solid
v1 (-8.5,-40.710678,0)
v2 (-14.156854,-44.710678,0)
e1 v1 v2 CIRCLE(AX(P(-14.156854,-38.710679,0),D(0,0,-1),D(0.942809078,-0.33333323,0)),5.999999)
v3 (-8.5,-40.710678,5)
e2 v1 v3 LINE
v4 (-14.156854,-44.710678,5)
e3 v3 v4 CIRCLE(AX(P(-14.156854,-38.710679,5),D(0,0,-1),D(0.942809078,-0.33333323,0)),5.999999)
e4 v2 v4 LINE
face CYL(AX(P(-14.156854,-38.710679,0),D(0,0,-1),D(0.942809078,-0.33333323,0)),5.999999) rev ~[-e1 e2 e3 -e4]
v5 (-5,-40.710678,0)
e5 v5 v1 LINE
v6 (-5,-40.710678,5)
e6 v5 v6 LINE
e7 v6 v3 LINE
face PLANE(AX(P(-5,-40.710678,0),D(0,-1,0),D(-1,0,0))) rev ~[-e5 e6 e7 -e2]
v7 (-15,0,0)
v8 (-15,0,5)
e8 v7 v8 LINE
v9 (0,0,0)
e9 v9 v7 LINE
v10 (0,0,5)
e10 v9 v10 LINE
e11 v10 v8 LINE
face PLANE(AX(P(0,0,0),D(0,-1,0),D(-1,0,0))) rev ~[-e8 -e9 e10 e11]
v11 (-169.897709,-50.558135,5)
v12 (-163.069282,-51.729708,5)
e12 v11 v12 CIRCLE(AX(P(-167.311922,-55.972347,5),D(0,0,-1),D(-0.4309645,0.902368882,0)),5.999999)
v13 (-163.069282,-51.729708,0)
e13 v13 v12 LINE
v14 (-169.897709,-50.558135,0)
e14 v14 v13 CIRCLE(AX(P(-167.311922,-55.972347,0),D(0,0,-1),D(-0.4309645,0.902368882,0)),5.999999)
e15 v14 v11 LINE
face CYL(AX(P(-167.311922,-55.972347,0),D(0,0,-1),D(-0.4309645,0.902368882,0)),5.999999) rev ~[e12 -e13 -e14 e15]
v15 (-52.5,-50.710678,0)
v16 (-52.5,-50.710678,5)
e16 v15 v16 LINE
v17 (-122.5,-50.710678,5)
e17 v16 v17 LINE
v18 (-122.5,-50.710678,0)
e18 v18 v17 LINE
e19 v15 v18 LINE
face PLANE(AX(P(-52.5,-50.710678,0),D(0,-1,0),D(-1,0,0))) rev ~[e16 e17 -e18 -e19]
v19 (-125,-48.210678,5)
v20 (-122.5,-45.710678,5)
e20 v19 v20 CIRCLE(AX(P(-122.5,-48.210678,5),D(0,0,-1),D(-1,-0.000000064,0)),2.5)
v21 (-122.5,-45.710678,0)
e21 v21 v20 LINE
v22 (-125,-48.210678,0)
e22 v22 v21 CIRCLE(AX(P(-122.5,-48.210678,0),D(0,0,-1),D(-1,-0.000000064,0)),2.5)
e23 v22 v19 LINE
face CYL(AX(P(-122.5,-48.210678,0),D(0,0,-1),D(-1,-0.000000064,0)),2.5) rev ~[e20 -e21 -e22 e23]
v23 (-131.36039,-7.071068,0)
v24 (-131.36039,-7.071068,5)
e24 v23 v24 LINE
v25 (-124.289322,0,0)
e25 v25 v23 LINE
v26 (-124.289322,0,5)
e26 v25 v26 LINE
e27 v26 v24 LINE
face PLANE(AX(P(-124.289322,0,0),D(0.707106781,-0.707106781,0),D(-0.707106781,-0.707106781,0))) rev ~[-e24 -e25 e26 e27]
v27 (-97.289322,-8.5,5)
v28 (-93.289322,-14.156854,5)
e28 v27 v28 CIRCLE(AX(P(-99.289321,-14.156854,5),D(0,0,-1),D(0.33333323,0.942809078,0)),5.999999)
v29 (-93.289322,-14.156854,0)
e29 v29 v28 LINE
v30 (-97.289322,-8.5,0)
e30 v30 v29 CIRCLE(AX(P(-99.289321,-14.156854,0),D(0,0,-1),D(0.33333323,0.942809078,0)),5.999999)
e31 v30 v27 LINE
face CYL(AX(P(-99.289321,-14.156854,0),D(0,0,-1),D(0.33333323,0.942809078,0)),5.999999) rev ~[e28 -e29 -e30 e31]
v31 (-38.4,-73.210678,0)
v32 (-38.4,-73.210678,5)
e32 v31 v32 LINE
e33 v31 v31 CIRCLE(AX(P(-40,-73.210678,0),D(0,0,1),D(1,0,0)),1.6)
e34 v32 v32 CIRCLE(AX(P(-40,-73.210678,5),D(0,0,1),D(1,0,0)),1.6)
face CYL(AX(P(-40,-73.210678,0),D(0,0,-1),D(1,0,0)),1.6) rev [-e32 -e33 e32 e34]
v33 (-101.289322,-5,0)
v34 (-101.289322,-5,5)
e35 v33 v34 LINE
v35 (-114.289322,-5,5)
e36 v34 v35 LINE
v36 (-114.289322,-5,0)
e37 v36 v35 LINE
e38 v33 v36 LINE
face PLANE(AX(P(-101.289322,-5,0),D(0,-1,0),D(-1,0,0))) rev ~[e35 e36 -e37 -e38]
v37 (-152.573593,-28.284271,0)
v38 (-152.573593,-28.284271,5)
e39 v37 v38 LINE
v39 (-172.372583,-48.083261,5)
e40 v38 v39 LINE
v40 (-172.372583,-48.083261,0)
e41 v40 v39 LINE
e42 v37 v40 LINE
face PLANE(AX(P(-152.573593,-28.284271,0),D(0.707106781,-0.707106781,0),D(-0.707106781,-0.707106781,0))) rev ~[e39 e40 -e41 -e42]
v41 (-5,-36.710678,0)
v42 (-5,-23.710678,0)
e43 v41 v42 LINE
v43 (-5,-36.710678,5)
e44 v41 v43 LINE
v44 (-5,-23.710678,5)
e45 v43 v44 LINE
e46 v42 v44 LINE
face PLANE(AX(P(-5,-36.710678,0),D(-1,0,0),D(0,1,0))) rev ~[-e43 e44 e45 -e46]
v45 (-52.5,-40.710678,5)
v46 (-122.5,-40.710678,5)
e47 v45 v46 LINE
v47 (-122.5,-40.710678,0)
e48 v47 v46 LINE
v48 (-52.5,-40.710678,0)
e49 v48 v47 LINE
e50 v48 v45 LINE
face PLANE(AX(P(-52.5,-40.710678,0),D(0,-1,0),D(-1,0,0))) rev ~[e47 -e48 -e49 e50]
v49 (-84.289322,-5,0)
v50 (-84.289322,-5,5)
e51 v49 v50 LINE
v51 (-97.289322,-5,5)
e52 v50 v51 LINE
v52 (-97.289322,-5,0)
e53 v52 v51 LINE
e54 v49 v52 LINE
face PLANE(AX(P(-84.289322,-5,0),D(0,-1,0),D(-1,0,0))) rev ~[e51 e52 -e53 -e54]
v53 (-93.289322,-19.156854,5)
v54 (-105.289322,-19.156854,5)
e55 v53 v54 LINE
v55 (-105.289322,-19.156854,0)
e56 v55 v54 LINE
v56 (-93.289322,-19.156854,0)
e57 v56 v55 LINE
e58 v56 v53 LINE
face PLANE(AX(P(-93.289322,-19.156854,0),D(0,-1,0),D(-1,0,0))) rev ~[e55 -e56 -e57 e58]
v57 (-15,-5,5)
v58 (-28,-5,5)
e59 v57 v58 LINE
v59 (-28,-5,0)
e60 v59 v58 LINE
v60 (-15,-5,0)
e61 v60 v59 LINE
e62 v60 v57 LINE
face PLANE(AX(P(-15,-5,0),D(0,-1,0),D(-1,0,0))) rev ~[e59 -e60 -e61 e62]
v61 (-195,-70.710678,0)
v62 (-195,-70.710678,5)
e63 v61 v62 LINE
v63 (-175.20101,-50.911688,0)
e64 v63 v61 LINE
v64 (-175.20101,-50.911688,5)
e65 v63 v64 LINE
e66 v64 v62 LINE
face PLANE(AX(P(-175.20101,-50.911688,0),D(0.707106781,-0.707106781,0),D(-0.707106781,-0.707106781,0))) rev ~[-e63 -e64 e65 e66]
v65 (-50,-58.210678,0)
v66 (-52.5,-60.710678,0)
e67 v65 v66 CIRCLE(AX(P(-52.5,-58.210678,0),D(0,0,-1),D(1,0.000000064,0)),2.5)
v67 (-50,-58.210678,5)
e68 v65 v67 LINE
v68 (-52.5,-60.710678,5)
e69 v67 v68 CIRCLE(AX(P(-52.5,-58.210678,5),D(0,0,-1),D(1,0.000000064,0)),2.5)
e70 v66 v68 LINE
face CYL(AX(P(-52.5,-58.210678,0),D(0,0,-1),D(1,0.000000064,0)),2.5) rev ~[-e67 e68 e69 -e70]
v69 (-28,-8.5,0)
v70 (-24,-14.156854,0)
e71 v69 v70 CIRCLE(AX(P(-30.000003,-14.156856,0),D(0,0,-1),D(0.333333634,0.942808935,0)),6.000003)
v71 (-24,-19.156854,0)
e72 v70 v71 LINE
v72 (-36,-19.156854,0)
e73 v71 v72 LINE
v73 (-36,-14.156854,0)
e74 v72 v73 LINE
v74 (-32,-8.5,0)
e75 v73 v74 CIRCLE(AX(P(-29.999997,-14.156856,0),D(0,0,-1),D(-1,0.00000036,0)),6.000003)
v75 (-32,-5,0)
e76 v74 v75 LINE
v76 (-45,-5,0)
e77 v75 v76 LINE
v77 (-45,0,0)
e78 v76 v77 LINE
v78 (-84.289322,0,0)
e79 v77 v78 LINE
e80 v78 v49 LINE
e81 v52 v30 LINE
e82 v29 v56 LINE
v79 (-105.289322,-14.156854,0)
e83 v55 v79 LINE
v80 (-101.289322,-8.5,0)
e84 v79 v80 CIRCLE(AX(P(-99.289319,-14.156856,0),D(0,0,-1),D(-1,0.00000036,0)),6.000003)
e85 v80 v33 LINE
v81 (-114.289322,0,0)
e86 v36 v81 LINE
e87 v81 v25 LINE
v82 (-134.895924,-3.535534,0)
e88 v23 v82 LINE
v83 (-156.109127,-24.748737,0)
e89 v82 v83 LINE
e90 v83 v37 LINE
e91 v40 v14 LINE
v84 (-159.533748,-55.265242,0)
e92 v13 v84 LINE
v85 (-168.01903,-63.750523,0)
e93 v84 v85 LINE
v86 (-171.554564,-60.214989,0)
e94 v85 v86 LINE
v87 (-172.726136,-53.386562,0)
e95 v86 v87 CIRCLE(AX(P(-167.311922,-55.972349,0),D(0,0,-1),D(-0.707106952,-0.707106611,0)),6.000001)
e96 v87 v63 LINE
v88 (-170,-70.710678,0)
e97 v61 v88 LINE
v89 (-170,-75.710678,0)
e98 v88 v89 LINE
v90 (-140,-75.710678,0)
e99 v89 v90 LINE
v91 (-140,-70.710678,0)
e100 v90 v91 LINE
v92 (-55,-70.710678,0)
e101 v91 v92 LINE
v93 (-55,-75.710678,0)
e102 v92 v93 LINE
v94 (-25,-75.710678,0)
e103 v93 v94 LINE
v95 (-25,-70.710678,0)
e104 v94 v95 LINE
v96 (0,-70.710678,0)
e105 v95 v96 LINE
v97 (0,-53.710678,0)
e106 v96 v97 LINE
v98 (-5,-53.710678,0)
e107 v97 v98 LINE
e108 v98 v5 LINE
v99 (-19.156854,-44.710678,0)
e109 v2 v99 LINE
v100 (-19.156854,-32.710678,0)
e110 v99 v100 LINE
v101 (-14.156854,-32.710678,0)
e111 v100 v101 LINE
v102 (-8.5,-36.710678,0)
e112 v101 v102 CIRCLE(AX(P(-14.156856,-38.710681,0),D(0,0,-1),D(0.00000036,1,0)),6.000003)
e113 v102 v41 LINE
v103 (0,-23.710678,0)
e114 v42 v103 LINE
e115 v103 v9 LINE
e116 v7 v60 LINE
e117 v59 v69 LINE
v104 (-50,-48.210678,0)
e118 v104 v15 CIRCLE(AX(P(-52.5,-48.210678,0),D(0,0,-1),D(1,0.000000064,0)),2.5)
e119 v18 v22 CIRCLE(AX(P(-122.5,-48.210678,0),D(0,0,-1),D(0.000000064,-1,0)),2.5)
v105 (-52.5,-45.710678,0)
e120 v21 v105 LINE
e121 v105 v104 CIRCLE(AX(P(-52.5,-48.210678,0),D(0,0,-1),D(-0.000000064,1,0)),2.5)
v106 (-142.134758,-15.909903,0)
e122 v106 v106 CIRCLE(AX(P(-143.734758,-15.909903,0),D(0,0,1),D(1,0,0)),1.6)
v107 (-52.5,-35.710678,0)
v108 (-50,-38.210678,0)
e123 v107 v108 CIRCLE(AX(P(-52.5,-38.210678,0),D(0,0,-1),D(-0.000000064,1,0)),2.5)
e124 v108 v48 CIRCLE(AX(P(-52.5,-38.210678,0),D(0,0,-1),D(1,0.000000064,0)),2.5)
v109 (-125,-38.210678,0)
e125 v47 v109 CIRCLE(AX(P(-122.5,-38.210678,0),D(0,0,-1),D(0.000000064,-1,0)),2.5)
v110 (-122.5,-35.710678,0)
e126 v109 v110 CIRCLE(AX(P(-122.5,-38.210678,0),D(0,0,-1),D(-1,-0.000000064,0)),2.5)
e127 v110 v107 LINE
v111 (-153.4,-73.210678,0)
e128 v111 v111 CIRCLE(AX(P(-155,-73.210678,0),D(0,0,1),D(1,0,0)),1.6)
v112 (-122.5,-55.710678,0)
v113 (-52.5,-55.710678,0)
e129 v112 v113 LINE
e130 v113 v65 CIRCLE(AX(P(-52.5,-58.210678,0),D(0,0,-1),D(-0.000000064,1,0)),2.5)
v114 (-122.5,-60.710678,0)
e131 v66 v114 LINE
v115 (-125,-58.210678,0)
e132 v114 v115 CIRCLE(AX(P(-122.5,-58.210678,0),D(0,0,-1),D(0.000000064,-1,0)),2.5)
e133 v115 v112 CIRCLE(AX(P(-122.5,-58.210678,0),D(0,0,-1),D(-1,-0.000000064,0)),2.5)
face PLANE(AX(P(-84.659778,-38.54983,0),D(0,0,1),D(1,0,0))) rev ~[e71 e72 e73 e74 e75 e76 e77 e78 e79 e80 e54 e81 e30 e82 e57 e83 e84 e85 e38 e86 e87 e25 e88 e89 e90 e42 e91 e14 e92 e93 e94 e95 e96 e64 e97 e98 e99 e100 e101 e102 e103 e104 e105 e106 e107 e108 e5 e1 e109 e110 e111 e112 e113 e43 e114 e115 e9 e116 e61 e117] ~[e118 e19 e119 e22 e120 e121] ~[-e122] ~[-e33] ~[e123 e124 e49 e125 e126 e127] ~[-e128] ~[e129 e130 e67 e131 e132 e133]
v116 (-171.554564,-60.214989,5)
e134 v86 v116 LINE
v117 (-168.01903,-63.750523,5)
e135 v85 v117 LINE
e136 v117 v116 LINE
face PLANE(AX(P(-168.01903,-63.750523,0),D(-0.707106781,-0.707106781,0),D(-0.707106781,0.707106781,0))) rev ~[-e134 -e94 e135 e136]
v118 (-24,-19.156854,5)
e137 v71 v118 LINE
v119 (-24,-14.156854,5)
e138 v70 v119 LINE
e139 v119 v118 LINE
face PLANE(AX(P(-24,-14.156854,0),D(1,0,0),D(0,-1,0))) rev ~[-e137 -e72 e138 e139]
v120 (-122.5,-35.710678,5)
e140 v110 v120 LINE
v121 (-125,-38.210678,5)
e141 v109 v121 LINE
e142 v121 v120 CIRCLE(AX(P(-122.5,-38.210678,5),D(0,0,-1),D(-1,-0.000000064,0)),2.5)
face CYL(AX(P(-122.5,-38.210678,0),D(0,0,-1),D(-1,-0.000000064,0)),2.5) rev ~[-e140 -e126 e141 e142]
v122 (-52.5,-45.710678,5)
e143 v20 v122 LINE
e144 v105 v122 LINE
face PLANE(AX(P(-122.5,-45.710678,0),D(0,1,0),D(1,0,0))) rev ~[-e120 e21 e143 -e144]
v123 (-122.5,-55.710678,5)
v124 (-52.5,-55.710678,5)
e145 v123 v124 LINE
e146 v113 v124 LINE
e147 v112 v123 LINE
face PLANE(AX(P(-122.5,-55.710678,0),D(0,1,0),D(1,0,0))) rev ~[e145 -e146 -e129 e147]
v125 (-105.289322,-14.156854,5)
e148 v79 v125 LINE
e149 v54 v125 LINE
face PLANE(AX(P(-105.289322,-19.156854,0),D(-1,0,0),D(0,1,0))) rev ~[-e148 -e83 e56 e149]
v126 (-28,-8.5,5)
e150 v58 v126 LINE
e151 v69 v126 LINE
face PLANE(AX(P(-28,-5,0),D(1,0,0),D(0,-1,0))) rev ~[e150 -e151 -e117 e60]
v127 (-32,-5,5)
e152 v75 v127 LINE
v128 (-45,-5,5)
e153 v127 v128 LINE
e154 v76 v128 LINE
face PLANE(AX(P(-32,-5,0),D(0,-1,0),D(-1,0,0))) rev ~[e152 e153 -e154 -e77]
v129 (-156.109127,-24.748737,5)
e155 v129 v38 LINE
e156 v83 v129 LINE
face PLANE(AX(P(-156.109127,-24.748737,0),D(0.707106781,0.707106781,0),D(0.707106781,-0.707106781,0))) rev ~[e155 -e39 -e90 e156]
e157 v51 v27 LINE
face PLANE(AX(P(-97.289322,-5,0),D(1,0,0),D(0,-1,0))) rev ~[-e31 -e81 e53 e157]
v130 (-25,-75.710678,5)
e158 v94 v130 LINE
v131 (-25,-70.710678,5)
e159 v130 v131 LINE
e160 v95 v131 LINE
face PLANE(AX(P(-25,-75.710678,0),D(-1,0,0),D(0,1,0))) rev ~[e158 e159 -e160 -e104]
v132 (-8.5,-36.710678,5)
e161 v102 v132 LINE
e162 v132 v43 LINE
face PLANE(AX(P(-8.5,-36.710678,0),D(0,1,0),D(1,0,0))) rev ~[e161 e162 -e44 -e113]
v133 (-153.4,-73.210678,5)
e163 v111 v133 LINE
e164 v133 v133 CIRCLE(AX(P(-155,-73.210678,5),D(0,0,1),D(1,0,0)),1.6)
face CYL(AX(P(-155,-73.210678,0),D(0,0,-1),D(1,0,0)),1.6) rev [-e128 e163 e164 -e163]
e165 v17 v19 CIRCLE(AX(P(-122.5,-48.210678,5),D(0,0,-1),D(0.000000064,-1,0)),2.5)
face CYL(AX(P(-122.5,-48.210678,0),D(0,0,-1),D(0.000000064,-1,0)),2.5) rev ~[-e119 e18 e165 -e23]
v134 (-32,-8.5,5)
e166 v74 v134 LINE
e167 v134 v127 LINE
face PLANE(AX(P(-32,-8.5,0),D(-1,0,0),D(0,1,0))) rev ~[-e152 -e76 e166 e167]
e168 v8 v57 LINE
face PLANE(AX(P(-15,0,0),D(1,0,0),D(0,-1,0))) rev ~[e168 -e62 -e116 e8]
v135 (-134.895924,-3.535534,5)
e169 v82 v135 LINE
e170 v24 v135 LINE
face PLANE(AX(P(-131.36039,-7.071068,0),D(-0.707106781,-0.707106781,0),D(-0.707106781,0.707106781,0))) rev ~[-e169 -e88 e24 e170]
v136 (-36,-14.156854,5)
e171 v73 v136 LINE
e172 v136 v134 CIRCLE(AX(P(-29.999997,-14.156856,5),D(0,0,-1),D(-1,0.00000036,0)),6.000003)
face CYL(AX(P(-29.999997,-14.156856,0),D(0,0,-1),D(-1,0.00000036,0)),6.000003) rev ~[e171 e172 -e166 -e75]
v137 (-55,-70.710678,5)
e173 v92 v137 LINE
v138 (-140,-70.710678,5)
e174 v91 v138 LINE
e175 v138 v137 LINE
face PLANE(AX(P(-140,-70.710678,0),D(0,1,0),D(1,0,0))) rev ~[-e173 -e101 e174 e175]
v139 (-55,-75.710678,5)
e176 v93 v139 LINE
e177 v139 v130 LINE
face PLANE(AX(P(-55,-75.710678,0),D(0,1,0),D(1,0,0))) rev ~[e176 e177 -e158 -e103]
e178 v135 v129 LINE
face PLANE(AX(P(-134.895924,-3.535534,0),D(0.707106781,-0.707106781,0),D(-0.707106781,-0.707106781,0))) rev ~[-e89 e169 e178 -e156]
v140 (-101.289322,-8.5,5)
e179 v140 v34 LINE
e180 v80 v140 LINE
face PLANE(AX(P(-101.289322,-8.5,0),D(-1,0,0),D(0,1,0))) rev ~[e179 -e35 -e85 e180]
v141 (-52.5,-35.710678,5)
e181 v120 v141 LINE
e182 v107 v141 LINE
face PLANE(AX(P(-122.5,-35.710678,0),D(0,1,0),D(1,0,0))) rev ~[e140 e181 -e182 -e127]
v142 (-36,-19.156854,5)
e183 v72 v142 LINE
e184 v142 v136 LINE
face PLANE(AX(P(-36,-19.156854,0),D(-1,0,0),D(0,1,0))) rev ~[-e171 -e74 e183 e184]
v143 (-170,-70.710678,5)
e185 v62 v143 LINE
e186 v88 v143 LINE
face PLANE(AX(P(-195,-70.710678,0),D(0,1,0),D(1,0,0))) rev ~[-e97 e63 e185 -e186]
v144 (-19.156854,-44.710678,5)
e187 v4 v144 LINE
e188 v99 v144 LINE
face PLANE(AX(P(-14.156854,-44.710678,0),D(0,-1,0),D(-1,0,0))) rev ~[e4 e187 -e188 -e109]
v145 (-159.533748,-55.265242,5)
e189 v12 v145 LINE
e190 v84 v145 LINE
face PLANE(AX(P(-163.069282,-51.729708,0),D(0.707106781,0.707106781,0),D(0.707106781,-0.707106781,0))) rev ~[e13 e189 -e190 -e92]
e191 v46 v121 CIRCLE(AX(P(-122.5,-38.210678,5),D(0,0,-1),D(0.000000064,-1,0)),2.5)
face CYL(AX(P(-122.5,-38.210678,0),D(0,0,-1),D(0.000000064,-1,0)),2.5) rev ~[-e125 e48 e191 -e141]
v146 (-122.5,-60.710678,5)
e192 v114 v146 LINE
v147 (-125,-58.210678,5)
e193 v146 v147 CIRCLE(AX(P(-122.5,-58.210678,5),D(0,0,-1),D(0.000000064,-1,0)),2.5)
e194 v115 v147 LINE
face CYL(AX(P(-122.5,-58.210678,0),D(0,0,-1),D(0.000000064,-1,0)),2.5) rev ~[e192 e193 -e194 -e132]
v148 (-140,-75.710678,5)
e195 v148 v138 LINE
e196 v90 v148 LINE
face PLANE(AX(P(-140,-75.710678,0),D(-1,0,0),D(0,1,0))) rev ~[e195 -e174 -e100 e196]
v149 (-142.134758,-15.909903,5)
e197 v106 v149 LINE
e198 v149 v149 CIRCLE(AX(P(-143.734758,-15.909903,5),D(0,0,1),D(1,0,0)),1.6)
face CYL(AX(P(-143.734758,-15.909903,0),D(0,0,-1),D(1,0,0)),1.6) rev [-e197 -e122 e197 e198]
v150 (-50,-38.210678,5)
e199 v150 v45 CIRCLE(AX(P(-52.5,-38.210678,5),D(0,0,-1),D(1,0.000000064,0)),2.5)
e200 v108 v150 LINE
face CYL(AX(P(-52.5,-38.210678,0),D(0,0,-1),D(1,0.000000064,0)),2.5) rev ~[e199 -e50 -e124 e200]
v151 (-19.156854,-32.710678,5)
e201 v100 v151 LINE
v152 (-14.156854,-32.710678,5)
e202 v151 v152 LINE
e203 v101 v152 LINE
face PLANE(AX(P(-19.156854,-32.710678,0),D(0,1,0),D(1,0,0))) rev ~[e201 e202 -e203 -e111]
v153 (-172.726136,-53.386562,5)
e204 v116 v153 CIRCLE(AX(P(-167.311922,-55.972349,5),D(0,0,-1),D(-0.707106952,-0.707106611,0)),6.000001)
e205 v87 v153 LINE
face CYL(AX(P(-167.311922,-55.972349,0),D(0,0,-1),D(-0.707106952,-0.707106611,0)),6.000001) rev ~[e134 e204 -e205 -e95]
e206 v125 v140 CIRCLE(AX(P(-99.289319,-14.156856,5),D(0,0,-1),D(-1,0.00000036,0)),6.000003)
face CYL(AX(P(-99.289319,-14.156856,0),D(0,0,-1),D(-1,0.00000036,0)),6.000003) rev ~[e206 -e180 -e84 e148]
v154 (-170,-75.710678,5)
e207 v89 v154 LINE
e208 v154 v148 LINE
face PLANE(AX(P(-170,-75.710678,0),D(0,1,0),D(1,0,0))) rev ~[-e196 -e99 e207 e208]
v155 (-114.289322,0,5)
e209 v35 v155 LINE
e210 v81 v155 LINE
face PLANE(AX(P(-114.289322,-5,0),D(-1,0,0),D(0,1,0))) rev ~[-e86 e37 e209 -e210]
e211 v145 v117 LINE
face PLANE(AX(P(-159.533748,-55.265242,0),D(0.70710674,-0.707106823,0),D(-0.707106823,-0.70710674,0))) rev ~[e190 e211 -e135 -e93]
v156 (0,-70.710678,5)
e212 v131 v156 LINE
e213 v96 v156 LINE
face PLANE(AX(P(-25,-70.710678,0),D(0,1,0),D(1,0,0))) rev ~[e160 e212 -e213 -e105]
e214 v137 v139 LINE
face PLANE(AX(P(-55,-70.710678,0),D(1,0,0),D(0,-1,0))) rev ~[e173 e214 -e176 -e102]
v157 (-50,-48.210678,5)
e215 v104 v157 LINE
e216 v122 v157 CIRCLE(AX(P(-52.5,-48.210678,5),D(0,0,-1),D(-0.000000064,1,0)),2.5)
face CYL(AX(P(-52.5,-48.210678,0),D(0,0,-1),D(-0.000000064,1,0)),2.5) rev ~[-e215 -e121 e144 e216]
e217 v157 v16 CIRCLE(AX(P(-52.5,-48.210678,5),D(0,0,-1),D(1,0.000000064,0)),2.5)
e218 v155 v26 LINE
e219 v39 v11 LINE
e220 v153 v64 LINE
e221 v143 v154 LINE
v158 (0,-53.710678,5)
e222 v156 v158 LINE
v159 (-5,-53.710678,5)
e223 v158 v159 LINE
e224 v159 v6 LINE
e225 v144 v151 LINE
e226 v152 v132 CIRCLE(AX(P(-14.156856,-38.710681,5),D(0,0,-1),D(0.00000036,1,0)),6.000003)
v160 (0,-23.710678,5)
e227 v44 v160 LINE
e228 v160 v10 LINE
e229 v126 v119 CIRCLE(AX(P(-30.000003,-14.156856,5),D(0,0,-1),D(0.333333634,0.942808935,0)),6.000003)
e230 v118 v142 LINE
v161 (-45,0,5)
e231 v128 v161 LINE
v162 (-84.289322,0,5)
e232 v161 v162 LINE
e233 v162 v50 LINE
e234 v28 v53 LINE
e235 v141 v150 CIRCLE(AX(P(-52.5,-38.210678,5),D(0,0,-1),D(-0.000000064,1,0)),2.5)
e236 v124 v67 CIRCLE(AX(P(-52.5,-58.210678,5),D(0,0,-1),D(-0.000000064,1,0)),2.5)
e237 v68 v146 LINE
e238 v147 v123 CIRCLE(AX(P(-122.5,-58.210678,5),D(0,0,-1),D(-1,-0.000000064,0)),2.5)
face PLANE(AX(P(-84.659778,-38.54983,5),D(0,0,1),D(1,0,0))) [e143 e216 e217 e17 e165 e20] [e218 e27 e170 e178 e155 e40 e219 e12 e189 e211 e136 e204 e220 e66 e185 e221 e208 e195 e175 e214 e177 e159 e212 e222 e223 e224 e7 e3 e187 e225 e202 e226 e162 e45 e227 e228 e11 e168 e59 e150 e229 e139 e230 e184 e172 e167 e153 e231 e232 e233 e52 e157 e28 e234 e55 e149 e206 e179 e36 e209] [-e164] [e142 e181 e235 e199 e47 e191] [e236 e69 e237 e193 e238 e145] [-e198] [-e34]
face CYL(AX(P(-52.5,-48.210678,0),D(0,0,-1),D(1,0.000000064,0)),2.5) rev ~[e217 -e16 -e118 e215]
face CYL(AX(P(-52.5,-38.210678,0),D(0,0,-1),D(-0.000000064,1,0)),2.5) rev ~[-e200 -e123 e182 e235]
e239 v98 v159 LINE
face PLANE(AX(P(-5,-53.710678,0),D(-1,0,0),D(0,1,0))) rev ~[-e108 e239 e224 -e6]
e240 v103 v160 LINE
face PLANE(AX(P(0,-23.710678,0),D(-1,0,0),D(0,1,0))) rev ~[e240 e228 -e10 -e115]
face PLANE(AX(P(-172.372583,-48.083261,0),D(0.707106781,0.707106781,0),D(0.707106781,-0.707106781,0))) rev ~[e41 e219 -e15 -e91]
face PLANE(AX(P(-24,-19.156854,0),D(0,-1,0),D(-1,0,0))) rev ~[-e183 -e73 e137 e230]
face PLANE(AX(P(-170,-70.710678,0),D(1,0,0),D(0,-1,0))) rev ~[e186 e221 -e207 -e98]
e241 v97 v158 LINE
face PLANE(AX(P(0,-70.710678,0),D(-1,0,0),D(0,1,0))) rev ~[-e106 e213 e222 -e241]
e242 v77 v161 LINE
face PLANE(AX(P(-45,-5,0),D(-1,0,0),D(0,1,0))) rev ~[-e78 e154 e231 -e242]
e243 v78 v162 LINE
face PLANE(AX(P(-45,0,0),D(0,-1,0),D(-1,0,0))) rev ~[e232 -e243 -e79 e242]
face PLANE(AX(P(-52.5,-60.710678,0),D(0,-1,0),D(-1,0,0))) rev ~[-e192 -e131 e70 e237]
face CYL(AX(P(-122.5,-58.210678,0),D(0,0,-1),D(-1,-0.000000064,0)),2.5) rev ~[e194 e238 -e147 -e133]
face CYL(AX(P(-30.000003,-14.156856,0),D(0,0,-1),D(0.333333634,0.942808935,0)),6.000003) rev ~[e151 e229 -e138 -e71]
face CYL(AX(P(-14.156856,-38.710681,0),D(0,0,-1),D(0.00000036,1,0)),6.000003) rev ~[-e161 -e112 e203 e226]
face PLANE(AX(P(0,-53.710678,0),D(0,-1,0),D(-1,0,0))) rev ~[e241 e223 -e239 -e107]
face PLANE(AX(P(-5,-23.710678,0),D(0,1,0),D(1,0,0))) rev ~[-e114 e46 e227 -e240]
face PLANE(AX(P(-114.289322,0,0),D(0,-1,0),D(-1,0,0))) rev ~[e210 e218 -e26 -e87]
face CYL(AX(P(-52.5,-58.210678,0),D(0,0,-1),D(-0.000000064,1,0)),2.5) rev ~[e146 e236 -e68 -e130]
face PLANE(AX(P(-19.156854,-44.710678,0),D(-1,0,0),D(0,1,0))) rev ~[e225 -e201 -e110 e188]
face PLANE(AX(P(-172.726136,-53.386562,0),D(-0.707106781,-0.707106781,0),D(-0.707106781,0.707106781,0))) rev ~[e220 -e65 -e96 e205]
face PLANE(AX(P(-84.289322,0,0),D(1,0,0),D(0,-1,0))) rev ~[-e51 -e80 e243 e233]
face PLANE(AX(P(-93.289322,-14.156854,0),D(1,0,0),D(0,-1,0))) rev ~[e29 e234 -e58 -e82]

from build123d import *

# Parameters (mm, degrees)
F0_R     = 1.6
F1_DEPTH = 5


with BuildPart() as f1:
    # F0 (on Top) → F1 (new body)
    with BuildSketch(Plane.XY):
        with BuildLine():
            Line((0, -23.710678), (0, 0))
            Line((0, 0), (-15, 0))
            Line((-15, 0), (-15, -5))
            Line((-15, -5), (-28, -5))
            Line((-28, -5), (-28, -8.5))
            ThreePointArc((-28, -8.5), (-25.101021, -10.692753), (-24, -14.156854))
            Line((-24, -14.156854), (-24, -19.156854))
            Line((-24, -19.156854), (-36, -19.156854))
            Line((-36, -19.156854), (-36, -14.156854))
            ThreePointArc((-36, -14.156854), (-34.898979, -10.692753), (-32, -8.5))
            Line((-32, -8.5), (-32, -5))
            Line((-32, -5), (-45, -5))
            Line((-45, -5), (-45, 0))
            Line((-45, 0), (-84.289322, 0))
            Line((-84.289322, 0), (-84.289322, -5))
            Line((-84.289322, -5), (-97.289322, -5))
            Line((-97.289322, -5), (-97.289322, -8.5))
            ThreePointArc((-97.289322, -8.5), (-94.390342, -10.692753), (-93.289322, -14.156854))
            Line((-93.289322, -14.156854), (-93.289322, -19.156854))
            Line((-93.289322, -19.156854), (-105.289322, -19.156854))
            Line((-105.289322, -19.156854), (-105.289322, -14.156854))
            ThreePointArc((-105.289322, -14.156854), (-104.188301, -10.692753), (-101.289322, -8.5))
            Line((-101.289322, -8.5), (-101.289322, -5))
            Line((-101.289322, -5), (-114.289322, -5))
            Line((-114.289322, -5), (-114.289322, 0))
            Line((-114.289322, 0), (-124.289322, 0))
            Line((-124.289322, 0), (-131.36039, -7.071068))
            Line((-131.36039, -7.071068), (-134.895924, -3.535534))
            Line((-134.895924, -3.535534), (-156.109127, -24.748737))
            Line((-156.109127, -24.748737), (-152.573593, -28.284271))
            Line((-152.573593, -28.284271), (-172.372583, -48.083261))
            Line((-172.372583, -48.083261), (-169.897709, -50.558135))
            ThreePointArc((-169.897709, -50.558135), (-166.297311, -50.058757), (-163.069282, -51.729708))
            Line((-163.069282, -51.729708), (-159.533748, -55.265242))
            Line((-159.533748, -55.265242), (-168.01903, -63.750523))
            Line((-168.01903, -63.750523), (-171.554564, -60.214989))
            ThreePointArc((-171.554564, -60.214989), (-173.225514, -56.98696), (-172.726136, -53.386562))
            Line((-172.726136, -53.386562), (-175.20101, -50.911688))
            Line((-175.20101, -50.911688), (-195, -70.710678))
            Line((-195, -70.710678), (-170, -70.710678))
            Line((-170, -70.710678), (-170, -75.710678))
            Line((-170, -75.710678), (-140, -75.710678))
            Line((-140, -75.710678), (-140, -70.710678))
            Line((-140, -70.710678), (-55, -70.710678))
            Line((-55, -70.710678), (-55, -75.710678))
            Line((-55, -75.710678), (-25, -75.710678))
            Line((-25, -75.710678), (-25, -70.710678))
            Line((-25, -70.710678), (0, -70.710678))
            Line((0, -70.710678), (0, -53.710678))
            Line((0, -53.710678), (-5, -53.710678))
            Line((-5, -53.710678), (-5, -40.710678))
            Line((-5, -40.710678), (-8.5, -40.710678))
            ThreePointArc((-8.5, -40.710678), (-10.692753, -43.609658), (-14.156854, -44.710678))
            Line((-14.156854, -44.710678), (-19.156854, -44.710678))
            Line((-19.156854, -44.710678), (-19.156854, -32.710678))
            Line((-19.156854, -32.710678), (-14.156854, -32.710678))
            ThreePointArc((-14.156854, -32.710678), (-10.692753, -33.811699), (-8.5, -36.710678))
            Line((-8.5, -36.710678), (-5, -36.710678))
            Line((-5, -36.710678), (-5, -23.710678))
            Line((-5, -23.710678), (0, -23.710678))
        make_face()
        with Locations((-155, -73.210678)):
            Circle(F0_R, mode=Mode.SUBTRACT)
        with BuildLine():
            ThreePointArc((-125, -58.210678), (-124.267767, -56.442911), (-122.5, -55.710678))
            Line((-122.5, -55.710678), (-52.5, -55.710678))
            ThreePointArc((-52.5, -55.710678), (-50.732233, -56.442911), (-50, -58.210678))
            ThreePointArc((-50, -58.210678), (-50.732233, -59.978445), (-52.5, -60.710678))
            Line((-52.5, -60.710678), (-122.5, -60.710678))
            ThreePointArc((-122.5, -60.710678), (-124.267767, -59.978445), (-125, -58.210678))
        make_face(mode=Mode.SUBTRACT)
        with Locations((-40, -73.210678)):
            Circle(F0_R, mode=Mode.SUBTRACT)
        with BuildLine():
            ThreePointArc((-125, -48.210678), (-124.267767, -46.442911), (-122.5, -45.710678))
            Line((-122.5, -45.710678), (-52.5, -45.710678))
            ThreePointArc((-52.5, -45.710678), (-50.732233, -46.442911), (-50, -48.210678))
            ThreePointArc((-50, -48.210678), (-50.732233, -49.978445), (-52.5, -50.710678))
            Line((-52.5, -50.710678), (-122.5, -50.710678))
            ThreePointArc((-122.5, -50.710678), (-124.267767, -49.978445), (-125, -48.210678))
        make_face(mode=Mode.SUBTRACT)
        with BuildLine():
            ThreePointArc((-125, -38.210678), (-124.267767, -36.442911), (-122.5, -35.710678))
            Line((-122.5, -35.710678), (-52.5, -35.710678))
            ThreePointArc((-52.5, -35.710678), (-50.732233, -36.442911), (-50, -38.210678))
            ThreePointArc((-50, -38.210678), (-50.732233, -39.978445), (-52.5, -40.710678))
            Line((-52.5, -40.710678), (-122.5, -40.710678))
            ThreePointArc((-122.5, -40.710678), (-124.267767, -39.978445), (-125, -38.210678))
        make_face(mode=Mode.SUBTRACT)
        with Locations((-143.734758, -15.909903)):
            Circle(F0_R, mode=Mode.SUBTRACT)
    extrude(amount=F1_DEPTH)


solid = f1.part
